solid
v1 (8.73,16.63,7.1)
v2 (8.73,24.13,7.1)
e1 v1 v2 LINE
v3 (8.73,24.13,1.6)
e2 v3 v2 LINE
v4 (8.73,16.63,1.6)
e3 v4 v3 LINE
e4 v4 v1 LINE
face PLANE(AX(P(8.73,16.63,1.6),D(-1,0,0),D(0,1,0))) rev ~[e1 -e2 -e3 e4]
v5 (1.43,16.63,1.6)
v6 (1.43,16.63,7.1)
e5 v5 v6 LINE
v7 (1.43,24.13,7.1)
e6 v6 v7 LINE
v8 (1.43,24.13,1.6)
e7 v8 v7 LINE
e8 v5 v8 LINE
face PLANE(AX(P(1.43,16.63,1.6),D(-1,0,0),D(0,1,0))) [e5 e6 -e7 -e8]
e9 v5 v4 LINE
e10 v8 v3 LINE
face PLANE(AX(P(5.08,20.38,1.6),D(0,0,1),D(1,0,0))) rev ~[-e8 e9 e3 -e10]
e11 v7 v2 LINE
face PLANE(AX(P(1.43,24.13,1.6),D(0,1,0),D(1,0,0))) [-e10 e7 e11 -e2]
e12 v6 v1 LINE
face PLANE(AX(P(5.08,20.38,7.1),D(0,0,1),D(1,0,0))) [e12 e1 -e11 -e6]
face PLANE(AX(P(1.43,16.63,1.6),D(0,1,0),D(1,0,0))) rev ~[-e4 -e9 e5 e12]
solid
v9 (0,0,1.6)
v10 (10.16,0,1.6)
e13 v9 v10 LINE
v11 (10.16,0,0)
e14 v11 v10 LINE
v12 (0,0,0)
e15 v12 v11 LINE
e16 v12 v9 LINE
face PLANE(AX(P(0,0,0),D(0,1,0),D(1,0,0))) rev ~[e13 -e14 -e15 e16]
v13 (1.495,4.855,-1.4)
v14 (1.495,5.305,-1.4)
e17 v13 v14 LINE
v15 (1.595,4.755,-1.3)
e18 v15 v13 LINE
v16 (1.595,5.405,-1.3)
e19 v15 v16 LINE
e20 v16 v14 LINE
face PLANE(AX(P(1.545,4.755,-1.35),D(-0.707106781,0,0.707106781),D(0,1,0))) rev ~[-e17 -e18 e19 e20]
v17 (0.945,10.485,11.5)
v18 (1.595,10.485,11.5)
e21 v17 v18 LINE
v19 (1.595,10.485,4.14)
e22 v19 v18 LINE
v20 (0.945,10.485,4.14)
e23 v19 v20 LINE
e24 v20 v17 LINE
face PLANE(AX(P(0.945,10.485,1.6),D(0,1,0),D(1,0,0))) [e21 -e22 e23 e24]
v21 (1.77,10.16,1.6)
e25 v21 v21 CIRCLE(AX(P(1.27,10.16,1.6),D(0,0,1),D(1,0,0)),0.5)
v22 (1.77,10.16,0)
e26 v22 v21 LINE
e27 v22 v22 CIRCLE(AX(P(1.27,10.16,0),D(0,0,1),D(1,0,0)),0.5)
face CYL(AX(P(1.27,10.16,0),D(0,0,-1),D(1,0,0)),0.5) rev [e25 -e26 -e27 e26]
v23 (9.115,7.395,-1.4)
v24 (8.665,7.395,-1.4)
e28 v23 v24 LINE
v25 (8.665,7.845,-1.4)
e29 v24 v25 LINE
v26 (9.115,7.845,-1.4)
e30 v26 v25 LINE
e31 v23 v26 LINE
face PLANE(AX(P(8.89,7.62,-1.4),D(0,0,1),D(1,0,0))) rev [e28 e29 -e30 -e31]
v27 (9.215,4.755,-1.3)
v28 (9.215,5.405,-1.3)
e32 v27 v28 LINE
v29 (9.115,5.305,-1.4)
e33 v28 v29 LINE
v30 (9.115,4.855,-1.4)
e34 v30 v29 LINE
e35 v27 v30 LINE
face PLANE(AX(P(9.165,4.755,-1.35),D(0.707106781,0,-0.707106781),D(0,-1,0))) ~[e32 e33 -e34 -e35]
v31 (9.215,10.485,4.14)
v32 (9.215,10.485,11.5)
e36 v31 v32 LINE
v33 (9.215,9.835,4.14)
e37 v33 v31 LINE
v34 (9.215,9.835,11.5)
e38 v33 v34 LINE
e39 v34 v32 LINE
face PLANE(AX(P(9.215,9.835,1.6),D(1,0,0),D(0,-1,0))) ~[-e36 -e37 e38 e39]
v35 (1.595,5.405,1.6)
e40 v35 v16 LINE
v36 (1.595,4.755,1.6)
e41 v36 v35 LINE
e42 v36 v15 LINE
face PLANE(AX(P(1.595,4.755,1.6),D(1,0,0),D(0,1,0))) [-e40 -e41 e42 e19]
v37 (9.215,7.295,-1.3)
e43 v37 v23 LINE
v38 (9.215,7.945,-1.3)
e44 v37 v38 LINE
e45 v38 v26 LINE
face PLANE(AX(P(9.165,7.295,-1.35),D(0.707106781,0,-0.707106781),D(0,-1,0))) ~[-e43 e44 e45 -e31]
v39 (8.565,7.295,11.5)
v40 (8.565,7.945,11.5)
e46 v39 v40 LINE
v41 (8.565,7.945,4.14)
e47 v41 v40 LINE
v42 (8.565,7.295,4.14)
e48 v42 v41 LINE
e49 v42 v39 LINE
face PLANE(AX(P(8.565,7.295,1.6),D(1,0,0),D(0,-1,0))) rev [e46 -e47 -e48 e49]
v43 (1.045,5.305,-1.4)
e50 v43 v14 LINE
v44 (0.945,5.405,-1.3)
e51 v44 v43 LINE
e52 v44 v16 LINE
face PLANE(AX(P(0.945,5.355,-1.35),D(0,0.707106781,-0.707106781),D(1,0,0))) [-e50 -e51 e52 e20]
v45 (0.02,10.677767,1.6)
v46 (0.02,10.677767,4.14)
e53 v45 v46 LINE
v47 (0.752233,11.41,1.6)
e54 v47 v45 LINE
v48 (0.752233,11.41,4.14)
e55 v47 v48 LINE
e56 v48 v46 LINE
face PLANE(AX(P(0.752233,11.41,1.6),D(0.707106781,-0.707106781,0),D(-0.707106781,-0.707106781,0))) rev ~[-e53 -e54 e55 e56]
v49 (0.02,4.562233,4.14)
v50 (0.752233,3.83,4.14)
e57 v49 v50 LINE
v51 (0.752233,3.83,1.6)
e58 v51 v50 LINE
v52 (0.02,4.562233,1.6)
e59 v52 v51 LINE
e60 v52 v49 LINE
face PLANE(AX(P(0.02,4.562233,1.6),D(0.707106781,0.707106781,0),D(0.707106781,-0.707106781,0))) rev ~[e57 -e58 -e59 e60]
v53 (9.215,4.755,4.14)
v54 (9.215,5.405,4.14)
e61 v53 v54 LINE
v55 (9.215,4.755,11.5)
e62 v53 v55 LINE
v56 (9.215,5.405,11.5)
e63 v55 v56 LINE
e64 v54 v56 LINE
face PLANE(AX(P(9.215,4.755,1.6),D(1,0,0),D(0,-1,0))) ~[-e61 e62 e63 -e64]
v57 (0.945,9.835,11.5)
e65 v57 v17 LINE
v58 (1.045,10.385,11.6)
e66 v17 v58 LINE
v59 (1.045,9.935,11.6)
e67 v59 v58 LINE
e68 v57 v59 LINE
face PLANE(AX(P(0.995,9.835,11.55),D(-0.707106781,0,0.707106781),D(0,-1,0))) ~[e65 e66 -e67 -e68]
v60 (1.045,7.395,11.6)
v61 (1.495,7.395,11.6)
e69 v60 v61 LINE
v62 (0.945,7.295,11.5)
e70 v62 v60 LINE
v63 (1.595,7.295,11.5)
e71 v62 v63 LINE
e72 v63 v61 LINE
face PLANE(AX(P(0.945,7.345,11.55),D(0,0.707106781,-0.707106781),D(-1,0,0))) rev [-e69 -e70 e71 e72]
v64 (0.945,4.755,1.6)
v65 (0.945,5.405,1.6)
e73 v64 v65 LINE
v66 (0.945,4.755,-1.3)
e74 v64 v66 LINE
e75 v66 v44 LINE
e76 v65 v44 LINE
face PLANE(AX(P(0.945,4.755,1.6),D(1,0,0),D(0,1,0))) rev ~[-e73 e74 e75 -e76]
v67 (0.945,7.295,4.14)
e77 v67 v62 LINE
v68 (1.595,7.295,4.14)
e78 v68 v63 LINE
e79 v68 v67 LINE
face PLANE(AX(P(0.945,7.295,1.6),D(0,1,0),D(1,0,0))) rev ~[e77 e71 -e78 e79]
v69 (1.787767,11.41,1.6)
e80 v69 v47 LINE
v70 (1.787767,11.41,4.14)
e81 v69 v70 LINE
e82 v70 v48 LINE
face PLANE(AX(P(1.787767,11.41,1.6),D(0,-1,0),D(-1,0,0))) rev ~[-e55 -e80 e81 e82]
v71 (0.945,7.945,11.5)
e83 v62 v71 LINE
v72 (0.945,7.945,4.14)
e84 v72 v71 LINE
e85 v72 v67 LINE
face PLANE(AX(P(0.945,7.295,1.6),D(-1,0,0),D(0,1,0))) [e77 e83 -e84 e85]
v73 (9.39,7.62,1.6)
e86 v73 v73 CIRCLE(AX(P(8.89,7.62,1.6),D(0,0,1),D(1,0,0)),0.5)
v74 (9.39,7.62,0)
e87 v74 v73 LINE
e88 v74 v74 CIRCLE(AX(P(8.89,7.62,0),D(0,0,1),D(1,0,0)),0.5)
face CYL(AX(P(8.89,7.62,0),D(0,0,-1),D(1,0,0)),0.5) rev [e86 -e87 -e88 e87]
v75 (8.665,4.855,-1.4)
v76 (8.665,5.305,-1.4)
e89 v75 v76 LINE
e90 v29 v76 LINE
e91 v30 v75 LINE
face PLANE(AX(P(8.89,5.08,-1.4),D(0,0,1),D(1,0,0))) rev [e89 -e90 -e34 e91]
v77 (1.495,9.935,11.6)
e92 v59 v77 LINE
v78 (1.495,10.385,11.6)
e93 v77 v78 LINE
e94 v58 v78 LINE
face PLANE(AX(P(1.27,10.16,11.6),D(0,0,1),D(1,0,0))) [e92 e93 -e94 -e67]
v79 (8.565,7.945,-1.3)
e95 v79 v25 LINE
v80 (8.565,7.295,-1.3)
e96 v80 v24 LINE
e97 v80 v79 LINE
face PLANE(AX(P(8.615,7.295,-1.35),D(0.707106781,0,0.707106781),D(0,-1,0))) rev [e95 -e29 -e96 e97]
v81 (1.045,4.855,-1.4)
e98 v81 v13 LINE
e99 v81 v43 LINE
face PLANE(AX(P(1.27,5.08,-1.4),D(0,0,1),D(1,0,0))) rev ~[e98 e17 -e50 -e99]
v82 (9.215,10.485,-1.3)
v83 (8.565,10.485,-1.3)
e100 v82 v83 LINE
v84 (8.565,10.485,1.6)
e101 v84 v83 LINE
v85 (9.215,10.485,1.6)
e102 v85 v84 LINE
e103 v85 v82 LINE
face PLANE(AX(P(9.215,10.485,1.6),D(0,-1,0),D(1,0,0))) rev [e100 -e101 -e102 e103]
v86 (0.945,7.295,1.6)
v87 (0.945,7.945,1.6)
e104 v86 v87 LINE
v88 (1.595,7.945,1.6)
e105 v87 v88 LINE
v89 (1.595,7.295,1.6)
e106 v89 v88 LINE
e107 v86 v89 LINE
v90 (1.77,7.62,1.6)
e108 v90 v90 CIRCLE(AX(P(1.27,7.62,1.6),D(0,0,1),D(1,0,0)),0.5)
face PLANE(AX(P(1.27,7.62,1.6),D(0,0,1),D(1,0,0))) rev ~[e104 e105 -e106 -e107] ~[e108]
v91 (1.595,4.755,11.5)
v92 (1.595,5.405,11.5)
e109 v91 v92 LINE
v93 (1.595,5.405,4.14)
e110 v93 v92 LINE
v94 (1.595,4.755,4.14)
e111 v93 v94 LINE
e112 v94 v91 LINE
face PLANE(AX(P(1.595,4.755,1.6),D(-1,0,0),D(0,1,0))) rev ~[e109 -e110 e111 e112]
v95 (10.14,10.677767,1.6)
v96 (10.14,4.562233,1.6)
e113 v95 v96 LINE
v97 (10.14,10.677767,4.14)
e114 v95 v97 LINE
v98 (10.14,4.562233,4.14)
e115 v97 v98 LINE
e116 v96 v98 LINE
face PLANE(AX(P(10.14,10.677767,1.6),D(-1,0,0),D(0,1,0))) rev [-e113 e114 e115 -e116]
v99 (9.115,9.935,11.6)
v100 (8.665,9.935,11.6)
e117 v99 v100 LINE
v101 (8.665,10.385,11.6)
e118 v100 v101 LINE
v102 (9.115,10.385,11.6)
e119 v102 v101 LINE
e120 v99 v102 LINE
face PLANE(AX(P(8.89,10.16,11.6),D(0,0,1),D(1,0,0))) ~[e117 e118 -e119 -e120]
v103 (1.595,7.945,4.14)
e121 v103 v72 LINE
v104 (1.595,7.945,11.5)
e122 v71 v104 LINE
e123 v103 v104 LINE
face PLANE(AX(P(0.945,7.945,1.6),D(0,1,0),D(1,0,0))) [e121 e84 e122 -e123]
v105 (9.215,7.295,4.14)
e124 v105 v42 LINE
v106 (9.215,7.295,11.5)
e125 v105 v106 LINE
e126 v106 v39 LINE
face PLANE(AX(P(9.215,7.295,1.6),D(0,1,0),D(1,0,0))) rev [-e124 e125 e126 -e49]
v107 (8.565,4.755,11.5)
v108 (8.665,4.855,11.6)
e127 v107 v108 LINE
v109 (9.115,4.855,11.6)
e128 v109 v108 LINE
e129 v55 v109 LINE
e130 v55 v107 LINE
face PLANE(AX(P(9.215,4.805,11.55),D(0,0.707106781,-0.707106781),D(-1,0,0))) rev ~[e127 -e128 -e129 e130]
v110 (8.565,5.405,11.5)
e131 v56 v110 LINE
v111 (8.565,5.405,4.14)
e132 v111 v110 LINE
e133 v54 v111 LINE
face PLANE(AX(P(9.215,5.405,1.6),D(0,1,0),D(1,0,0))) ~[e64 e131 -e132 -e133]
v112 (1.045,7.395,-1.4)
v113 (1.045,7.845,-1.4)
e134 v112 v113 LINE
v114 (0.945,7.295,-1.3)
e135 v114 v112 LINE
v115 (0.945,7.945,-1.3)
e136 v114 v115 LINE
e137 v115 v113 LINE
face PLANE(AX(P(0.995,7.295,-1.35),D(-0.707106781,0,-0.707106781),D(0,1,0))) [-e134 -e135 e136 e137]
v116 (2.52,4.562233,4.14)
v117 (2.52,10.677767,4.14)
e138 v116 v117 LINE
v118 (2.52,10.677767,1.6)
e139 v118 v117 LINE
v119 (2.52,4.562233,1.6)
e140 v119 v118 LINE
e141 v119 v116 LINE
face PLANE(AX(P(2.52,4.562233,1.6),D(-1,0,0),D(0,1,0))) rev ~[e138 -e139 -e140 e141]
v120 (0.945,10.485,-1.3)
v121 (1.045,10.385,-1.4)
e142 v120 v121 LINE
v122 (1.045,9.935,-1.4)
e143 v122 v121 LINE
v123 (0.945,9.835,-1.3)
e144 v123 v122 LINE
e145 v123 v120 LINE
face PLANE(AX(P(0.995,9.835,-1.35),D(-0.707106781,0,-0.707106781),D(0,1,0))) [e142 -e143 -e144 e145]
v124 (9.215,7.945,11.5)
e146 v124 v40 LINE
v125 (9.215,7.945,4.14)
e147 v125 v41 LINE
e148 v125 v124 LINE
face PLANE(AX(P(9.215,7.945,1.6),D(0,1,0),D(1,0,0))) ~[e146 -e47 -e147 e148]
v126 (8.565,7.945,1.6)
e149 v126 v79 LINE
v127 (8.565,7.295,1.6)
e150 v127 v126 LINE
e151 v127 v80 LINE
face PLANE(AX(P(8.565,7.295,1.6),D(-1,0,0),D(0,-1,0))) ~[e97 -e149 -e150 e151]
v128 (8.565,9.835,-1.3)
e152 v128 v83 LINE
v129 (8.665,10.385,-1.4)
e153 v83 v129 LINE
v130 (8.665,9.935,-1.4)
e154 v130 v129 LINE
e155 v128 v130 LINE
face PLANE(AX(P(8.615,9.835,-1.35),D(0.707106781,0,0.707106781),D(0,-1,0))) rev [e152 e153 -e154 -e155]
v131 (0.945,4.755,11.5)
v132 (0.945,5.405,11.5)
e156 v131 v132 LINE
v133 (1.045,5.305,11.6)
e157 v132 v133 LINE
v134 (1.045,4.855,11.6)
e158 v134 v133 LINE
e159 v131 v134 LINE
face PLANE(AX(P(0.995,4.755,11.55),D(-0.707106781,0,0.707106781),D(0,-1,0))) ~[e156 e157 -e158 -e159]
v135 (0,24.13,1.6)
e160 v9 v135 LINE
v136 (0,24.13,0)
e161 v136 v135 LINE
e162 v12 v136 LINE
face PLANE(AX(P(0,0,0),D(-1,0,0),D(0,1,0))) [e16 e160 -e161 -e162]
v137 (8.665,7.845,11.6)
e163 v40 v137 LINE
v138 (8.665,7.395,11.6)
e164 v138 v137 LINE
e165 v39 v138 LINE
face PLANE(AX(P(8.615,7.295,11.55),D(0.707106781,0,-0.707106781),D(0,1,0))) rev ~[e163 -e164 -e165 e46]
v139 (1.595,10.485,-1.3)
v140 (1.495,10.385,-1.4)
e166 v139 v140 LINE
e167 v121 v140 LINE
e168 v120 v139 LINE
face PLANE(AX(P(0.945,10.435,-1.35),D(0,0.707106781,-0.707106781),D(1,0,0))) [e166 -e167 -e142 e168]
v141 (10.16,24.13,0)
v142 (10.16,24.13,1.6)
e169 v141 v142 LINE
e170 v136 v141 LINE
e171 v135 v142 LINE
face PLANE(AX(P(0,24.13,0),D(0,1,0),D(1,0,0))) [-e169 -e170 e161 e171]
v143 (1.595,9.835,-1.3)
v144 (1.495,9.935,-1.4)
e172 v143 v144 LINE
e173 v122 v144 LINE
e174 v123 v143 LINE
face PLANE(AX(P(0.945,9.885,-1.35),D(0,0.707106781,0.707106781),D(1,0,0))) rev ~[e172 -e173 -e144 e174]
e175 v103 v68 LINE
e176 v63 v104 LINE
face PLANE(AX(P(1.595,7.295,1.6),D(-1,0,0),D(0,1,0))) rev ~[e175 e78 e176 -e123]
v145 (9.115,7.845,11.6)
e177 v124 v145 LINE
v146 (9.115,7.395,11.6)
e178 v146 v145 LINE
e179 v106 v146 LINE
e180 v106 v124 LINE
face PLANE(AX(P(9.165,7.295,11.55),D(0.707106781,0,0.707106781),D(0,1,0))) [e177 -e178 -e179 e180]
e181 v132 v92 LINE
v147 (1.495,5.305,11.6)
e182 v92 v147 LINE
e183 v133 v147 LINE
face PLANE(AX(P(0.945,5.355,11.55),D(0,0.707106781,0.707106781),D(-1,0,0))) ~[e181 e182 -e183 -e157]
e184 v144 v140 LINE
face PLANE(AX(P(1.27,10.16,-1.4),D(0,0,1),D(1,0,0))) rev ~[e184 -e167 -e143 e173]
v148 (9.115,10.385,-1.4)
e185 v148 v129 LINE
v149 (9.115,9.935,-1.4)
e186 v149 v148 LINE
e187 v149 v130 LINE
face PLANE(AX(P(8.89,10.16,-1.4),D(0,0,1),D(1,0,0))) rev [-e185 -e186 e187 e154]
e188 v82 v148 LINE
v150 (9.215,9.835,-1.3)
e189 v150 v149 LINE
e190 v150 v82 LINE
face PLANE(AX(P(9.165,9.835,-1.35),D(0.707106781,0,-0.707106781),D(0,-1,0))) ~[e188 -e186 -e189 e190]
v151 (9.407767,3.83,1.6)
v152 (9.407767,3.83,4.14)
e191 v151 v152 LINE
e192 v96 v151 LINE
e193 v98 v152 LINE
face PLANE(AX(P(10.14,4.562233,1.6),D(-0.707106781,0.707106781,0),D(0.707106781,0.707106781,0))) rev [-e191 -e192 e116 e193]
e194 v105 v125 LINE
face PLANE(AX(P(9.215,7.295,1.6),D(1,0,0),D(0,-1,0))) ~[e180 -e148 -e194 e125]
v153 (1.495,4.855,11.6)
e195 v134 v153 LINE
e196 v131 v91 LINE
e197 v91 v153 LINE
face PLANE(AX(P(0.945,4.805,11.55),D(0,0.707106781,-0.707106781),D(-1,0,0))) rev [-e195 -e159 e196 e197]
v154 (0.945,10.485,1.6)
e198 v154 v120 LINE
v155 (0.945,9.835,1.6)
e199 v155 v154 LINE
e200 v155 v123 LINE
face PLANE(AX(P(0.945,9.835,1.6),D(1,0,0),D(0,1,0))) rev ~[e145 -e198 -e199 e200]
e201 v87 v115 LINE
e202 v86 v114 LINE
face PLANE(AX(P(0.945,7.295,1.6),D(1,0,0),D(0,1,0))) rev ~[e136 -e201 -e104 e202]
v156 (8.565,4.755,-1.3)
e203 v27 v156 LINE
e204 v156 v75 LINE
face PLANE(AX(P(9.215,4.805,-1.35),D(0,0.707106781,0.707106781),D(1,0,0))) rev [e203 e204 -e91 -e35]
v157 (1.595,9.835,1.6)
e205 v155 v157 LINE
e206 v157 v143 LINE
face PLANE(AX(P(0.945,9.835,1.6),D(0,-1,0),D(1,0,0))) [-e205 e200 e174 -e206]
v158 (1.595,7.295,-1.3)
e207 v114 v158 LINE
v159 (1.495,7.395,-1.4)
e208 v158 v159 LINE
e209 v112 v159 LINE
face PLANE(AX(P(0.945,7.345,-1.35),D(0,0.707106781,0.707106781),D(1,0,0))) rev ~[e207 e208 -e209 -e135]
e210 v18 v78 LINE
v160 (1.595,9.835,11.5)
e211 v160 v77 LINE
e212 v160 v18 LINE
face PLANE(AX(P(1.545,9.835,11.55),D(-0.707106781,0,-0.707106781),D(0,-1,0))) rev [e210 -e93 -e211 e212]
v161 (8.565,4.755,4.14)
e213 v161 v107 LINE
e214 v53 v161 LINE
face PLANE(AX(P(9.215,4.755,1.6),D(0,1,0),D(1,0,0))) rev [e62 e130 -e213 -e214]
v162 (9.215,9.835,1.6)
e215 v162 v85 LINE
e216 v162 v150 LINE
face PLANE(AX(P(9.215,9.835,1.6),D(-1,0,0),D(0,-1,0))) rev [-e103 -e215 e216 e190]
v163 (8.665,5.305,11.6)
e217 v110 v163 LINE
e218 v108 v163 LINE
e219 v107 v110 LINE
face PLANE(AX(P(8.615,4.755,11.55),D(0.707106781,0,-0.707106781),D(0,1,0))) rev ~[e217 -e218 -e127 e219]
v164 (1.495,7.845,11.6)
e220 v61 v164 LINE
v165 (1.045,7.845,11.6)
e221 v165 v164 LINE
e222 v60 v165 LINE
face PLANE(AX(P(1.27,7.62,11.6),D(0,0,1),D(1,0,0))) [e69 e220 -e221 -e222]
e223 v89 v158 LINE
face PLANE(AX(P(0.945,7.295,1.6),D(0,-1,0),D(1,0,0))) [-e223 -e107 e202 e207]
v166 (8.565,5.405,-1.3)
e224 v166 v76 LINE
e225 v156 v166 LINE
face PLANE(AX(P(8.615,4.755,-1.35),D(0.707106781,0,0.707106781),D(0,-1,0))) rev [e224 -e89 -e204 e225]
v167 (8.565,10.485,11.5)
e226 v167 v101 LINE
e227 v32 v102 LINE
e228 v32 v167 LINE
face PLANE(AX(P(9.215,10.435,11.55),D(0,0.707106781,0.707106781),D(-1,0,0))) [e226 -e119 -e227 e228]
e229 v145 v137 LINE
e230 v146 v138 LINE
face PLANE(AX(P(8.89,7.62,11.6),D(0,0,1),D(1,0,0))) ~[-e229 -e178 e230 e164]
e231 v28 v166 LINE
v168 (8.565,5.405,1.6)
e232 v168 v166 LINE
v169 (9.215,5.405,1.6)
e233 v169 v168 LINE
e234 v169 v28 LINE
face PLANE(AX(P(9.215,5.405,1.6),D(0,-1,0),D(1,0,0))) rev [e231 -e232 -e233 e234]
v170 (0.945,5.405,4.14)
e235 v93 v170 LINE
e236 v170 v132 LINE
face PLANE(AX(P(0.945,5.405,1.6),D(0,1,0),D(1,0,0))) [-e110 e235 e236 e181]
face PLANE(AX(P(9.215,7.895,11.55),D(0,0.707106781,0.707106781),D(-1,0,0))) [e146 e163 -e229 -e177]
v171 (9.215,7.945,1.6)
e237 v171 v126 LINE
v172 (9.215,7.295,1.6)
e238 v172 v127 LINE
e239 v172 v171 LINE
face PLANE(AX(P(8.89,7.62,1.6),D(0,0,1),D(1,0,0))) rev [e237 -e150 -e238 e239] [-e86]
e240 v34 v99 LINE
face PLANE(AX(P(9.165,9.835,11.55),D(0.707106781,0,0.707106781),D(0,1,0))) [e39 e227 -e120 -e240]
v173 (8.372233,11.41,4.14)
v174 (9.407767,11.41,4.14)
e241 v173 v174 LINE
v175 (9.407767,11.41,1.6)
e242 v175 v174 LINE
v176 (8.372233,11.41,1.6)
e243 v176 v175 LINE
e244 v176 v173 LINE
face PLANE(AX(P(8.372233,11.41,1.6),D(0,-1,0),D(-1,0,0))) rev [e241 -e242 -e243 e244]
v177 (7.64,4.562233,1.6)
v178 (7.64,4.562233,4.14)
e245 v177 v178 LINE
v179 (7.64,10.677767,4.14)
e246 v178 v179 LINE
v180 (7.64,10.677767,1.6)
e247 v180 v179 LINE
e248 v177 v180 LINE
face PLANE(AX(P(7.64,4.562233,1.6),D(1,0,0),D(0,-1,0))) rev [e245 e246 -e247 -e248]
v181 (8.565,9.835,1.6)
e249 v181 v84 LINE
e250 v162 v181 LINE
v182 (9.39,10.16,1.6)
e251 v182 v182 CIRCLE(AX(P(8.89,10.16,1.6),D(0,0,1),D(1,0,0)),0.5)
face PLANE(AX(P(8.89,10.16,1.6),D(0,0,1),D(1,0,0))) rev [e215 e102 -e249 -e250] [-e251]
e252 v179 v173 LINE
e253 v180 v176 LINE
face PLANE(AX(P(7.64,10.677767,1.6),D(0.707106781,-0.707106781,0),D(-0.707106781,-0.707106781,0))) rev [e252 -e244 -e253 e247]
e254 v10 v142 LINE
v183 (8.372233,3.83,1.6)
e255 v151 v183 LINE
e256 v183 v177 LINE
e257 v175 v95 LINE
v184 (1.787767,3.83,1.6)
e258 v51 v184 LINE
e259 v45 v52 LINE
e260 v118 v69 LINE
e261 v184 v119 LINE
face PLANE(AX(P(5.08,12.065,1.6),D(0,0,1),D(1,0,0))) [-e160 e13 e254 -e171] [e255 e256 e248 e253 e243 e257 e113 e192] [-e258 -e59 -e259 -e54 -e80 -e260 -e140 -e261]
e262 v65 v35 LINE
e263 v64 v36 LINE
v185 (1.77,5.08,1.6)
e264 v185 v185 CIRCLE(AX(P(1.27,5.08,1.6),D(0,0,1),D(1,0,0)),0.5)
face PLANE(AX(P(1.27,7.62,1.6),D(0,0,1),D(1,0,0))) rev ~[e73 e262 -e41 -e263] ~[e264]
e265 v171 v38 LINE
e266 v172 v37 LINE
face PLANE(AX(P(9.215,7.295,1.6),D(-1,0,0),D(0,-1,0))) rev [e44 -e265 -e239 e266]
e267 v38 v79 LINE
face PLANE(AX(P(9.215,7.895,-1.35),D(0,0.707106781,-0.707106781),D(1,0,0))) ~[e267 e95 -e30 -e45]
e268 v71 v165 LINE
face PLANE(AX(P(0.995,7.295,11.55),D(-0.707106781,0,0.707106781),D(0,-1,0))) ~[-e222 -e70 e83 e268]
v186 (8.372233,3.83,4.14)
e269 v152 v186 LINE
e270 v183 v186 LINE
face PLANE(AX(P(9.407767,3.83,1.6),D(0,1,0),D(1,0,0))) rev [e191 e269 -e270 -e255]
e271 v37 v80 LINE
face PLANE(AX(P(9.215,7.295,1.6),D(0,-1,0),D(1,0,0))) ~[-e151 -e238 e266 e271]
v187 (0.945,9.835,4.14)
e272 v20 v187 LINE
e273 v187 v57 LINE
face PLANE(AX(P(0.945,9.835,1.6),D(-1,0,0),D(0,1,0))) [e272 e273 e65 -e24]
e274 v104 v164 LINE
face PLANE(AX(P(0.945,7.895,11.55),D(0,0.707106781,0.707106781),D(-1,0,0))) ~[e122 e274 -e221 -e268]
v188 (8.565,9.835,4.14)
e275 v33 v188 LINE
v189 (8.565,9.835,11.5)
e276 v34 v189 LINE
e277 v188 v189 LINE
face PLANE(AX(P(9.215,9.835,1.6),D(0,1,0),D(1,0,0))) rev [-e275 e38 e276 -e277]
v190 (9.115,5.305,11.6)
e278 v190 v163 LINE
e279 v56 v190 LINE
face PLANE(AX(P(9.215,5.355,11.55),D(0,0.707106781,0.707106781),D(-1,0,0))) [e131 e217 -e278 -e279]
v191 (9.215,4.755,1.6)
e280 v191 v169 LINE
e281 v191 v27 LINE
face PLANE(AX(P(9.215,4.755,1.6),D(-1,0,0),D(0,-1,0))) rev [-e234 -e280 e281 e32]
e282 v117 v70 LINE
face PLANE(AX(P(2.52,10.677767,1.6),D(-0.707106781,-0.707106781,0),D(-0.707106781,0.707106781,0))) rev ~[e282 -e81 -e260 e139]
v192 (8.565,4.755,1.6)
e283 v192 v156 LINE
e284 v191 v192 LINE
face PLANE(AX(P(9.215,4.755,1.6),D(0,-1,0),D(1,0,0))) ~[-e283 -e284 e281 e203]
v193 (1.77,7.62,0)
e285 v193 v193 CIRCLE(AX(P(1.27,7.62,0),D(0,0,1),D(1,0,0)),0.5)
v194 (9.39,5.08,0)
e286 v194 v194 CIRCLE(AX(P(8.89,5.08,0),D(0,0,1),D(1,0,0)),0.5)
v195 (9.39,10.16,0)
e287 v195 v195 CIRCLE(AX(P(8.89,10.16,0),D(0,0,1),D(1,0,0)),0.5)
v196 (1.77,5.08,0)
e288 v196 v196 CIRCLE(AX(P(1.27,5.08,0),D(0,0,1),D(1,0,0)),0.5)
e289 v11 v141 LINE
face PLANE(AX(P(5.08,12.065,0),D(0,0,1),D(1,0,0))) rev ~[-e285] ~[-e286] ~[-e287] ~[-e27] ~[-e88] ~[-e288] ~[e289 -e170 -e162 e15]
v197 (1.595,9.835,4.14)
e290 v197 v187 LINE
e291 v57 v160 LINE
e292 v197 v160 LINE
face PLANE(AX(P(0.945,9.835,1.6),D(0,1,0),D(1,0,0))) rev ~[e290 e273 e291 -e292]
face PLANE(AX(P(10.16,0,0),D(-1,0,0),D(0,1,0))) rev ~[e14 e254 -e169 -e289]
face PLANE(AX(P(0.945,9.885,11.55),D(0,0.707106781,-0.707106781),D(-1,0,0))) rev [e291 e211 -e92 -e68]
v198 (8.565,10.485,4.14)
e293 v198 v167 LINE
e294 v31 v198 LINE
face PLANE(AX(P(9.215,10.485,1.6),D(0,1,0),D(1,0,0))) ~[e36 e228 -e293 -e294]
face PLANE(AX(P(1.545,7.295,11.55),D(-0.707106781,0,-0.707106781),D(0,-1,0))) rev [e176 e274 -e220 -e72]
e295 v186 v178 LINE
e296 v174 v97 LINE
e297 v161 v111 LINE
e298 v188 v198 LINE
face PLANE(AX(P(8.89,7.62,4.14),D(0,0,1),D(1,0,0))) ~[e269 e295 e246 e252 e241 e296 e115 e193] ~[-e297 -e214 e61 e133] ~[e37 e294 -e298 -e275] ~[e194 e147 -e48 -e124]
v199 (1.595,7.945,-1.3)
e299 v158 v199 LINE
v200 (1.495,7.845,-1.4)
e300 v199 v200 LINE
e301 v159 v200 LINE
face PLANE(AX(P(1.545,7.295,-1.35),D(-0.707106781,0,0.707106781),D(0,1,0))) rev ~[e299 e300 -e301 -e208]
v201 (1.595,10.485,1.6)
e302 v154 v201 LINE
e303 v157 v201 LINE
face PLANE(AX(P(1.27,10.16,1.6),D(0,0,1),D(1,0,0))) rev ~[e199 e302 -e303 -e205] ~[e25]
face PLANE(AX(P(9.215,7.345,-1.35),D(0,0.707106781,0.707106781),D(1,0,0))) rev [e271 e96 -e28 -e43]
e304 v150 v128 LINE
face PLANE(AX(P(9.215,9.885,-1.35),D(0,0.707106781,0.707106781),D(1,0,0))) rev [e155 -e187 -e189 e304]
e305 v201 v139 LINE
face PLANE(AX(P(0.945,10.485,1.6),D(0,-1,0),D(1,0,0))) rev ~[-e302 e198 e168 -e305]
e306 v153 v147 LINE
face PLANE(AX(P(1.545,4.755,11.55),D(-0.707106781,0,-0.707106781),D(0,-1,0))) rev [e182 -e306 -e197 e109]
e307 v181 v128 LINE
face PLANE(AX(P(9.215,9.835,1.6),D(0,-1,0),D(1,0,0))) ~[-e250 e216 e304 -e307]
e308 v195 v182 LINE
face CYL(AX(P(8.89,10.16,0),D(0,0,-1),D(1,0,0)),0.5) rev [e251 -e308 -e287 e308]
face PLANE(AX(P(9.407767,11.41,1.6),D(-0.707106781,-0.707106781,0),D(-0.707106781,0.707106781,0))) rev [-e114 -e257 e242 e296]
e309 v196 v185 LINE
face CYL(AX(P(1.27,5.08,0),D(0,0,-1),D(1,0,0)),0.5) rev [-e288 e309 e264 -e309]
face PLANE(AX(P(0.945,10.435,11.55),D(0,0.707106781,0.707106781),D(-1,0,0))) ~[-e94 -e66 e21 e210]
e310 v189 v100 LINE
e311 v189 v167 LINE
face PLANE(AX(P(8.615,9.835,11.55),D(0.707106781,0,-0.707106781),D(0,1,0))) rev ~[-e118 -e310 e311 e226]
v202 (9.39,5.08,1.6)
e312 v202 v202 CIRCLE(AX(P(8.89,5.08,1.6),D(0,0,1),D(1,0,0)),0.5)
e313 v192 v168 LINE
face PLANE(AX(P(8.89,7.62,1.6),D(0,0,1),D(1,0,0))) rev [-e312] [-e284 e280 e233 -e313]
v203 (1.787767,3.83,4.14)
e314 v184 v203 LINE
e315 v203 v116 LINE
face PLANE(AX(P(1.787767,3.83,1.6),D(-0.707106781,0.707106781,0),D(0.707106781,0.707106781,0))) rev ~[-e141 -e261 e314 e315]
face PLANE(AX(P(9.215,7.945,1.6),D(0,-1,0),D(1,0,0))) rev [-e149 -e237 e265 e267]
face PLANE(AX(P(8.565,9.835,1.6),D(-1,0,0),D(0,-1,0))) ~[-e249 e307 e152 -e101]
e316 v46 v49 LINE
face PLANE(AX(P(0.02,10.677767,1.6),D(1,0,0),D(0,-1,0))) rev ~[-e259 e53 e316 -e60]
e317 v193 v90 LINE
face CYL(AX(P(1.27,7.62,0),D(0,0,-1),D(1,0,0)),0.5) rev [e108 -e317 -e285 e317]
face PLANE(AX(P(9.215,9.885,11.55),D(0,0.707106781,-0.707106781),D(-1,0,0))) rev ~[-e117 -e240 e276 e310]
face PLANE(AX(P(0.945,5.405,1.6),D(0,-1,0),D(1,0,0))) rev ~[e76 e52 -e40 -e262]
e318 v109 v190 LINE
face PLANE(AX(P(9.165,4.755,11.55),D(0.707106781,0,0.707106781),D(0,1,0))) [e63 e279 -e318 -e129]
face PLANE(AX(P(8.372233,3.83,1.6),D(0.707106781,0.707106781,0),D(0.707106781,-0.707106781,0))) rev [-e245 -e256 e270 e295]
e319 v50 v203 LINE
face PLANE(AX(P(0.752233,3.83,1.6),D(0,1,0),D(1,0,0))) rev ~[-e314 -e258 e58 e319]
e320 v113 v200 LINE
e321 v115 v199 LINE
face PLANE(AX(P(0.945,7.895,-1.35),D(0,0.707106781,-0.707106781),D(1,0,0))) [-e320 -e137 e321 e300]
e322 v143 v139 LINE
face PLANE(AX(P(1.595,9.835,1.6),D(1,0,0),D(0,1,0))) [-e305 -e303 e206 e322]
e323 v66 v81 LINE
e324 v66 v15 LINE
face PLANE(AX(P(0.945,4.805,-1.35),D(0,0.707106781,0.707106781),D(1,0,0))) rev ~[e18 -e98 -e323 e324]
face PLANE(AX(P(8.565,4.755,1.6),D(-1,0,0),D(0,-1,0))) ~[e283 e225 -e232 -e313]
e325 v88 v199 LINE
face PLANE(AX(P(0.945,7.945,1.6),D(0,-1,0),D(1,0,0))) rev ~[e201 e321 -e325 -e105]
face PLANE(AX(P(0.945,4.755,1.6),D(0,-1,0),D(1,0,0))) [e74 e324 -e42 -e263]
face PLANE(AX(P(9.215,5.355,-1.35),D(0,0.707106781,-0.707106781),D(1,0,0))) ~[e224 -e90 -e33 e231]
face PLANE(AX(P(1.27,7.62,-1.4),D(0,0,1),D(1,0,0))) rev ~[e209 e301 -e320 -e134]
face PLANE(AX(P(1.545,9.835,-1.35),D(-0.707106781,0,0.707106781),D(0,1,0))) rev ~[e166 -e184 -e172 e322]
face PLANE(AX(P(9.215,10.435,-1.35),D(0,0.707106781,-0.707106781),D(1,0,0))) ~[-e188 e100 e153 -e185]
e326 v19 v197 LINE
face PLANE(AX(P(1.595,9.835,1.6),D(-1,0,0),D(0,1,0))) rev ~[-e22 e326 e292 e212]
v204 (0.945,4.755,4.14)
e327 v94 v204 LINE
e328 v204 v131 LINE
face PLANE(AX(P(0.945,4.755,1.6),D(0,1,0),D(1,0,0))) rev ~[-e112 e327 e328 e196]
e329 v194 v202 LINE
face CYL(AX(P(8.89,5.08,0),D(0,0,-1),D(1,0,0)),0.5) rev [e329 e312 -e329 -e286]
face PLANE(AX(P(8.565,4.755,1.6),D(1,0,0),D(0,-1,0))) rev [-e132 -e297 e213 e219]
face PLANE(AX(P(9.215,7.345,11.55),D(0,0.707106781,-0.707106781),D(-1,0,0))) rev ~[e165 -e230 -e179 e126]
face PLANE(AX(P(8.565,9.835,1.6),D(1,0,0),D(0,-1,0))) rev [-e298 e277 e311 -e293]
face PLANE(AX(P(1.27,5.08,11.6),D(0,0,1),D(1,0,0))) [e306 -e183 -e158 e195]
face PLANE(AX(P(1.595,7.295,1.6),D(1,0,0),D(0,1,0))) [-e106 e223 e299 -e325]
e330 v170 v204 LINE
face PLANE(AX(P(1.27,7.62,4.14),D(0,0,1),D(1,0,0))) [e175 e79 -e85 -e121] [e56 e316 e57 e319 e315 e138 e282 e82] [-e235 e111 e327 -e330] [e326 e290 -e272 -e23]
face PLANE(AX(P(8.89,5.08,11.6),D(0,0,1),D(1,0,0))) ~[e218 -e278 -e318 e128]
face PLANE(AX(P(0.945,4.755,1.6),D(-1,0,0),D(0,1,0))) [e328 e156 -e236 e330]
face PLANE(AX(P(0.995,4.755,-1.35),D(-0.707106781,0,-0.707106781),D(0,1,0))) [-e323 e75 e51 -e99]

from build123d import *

# Parameters (mm, degrees)
SKETCH2_W                = 10.16
SKETCH2_H                = 24.13
SKETCH2_R                = 0.5
BOSS_EXTRUDE1_DEPTH      = 1.6
SKETCH3_W                = 7.3
SKETCH3_H                = 7.5
BOSS_EXTRUDE2_DEPTH      = 5.5
BOSS_EXTRUDE3_DEPTH      = 2.54
SKETCH9_W                = 0.65
SKETCH9_H                = 0.65
BOSS_EXTRUDE4_DEPTH      = 10
SKETCH9_2_W              = 0.65
SKETCH9_2_H              = 0.65
BOSS_EXTRUDE5_DEPTH      = 3
CHAMFER1_SIZE            = 0.1
CHAMFER1_OF_MIRROR2_SIZE = 0.1


with BuildPart() as part:
    # Sketch2 → Boss-Extrude1 (new body)
    with BuildSketch(Plane.XY):
        with Locations((5.08, 12.065)):
            Rectangle(SKETCH2_W, SKETCH2_H)
        with Locations((1.27, 5.08)):
            Circle(SKETCH2_R, mode=Mode.SUBTRACT)
        with Locations((1.27, 7.62)):
            Circle(SKETCH2_R, mode=Mode.SUBTRACT)
        with Locations((1.27, 10.16)):
            Circle(SKETCH2_R, mode=Mode.SUBTRACT)
        with Locations((8.89, 10.16)):
            Circle(SKETCH2_R, mode=Mode.SUBTRACT)
        with Locations((8.89, 7.62)):
            Circle(SKETCH2_R, mode=Mode.SUBTRACT)
        with Locations((8.89, 5.08)):
            Circle(SKETCH2_R, mode=Mode.SUBTRACT)
    extrude(amount=BOSS_EXTRUDE1_DEPTH)

    # Sketch8 → Boss-Extrude3 (add)
    with BuildSketch(Plane.XY.offset(1.6)):
        Polygon((0.02, 10.677766953), (0.02, 4.562233047), (0.752233047, 3.83), (1.787766953, 3.83), (2.52, 4.562233047), (2.52, 10.677766953), (1.787766953, 11.41), (0.752233047, 11.41), align=None)
    boss_extrude3 = extrude(amount=BOSS_EXTRUDE3_DEPTH)

    # Sketch9 → Boss-Extrude4 (add)
    with BuildSketch(Plane.XY.offset(1.6)):
        with Locations((1.27, 10.16)):
            Rectangle(SKETCH9_W, SKETCH9_H)
        with Locations((1.27, 7.62)):
            Rectangle(SKETCH9_W, SKETCH9_H)
        with Locations((1.27, 5.08)):
            Rectangle(SKETCH9_W, SKETCH9_H)
    boss_extrude4 = extrude(amount=BOSS_EXTRUDE4_DEPTH)

    # Sketch9<2> → Boss-Extrude5 (add)
    with BuildSketch(Plane.XY.offset(1.6)):
        with Locations((1.27, 10.16)):
            Rectangle(SKETCH9_2_W, SKETCH9_2_H)
        with Locations((1.27, 7.62)):
            Rectangle(SKETCH9_2_W, SKETCH9_2_H)
        with Locations((1.27, 5.08)):
            Rectangle(SKETCH9_2_W, SKETCH9_2_H)
    boss_extrude5 = extrude(amount=-BOSS_EXTRUDE5_DEPTH)

    # Chamfer1
    chamfer1_edges = [part.edges().sort_by_distance(p)[0] for p in [
        (0.945, 5.08, 11.6),
        (1.27, 4.755, 11.6),
        (1.595, 5.08, 11.6),
        (1.27, 5.405, 11.6),
        (0.945, 10.16, -1.4),
        (1.27, 10.485, -1.4),
        (1.595, 10.16, -1.4),
        (1.27, 9.835, -1.4),
        (0.945, 7.62, -1.4),
        (1.27, 7.945, -1.4),
        (1.595, 7.62, -1.4),
        (1.27, 7.295, -1.4),
        (0.945, 5.08, -1.4),
        (1.27, 5.405, -1.4),
        (1.595, 5.08, -1.4),
        (1.27, 4.755, -1.4),
        (0.945, 10.16, 11.6),
        (1.27, 9.835, 11.6),
        (1.595, 10.16, 11.6),
        (1.27, 10.485, 11.6),
        (0.945, 7.62, 11.6),
        (1.27, 7.295, 11.6),
        (1.595, 7.62, 11.6),
        (1.27, 7.945, 11.6),
    ]]
    chamfer(chamfer1_edges, length=CHAMFER1_SIZE)

    # Mirror1: Boss-Extrude3 across plane
    add(boss_extrude3.mirror(Plane(origin=(5.08, 0, 0), x_dir=(0, 0, 1), z_dir=(1, 0, 0))))

    # Mirror2: Boss-Extrude4, Boss-Extrude5 across plane
    add(boss_extrude4.mirror(Plane(origin=(5.08, 0, 0), x_dir=(0, 0, 1), z_dir=(1, 0, 0))))
    add(boss_extrude5.mirror(Plane(origin=(5.08, 0, 0), x_dir=(0, 0, 1), z_dir=(1, 0, 0))))

    # Chamfer1 of Mirror2
    chamfer1_of_mirror2_edges = [part.edges().sort_by_distance(p)[0] for p in [
        (9.215, 5.08, 11.6),
        (8.89, 4.755, 11.6),
        (8.565, 5.08, 11.6),
        (8.89, 5.405, 11.6),
        (9.215, 10.16, -1.4),
        (8.89, 10.485, -1.4),
        (8.565, 10.16, -1.4),
        (8.89, 9.835, -1.4),
        (9.215, 7.62, -1.4),
        (8.89, 7.945, -1.4),
        (8.565, 7.62, -1.4),
        (8.89, 7.295, -1.4),
        (9.215, 5.08, -1.4),
        (8.89, 5.405, -1.4),
        (8.565, 5.08, -1.4),
        (8.89, 4.755, -1.4),
        (9.215, 10.16, 11.6),
        (8.89, 9.835, 11.6),
        (8.565, 10.16, 11.6),
        (8.89, 10.485, 11.6),
        (9.215, 7.62, 11.6),
        (8.89, 7.295, 11.6),
        (8.565, 7.62, 11.6),
        (8.89, 7.945, 11.6),
    ]]
    chamfer(chamfer1_of_mirror2_edges, length=CHAMFER1_OF_MIRROR2_SIZE)


with BuildPart() as body_2:
    # Sketch3 → Boss-Extrude2 (new body)
    with BuildSketch(Plane.XY.offset(1.6)):
        with Locations((5.08, 20.38)):
            Rectangle(SKETCH3_W, SKETCH3_H)
    extrude(amount=BOSS_EXTRUDE2_DEPTH)


solid = Compound([part.part, body_2.part])
